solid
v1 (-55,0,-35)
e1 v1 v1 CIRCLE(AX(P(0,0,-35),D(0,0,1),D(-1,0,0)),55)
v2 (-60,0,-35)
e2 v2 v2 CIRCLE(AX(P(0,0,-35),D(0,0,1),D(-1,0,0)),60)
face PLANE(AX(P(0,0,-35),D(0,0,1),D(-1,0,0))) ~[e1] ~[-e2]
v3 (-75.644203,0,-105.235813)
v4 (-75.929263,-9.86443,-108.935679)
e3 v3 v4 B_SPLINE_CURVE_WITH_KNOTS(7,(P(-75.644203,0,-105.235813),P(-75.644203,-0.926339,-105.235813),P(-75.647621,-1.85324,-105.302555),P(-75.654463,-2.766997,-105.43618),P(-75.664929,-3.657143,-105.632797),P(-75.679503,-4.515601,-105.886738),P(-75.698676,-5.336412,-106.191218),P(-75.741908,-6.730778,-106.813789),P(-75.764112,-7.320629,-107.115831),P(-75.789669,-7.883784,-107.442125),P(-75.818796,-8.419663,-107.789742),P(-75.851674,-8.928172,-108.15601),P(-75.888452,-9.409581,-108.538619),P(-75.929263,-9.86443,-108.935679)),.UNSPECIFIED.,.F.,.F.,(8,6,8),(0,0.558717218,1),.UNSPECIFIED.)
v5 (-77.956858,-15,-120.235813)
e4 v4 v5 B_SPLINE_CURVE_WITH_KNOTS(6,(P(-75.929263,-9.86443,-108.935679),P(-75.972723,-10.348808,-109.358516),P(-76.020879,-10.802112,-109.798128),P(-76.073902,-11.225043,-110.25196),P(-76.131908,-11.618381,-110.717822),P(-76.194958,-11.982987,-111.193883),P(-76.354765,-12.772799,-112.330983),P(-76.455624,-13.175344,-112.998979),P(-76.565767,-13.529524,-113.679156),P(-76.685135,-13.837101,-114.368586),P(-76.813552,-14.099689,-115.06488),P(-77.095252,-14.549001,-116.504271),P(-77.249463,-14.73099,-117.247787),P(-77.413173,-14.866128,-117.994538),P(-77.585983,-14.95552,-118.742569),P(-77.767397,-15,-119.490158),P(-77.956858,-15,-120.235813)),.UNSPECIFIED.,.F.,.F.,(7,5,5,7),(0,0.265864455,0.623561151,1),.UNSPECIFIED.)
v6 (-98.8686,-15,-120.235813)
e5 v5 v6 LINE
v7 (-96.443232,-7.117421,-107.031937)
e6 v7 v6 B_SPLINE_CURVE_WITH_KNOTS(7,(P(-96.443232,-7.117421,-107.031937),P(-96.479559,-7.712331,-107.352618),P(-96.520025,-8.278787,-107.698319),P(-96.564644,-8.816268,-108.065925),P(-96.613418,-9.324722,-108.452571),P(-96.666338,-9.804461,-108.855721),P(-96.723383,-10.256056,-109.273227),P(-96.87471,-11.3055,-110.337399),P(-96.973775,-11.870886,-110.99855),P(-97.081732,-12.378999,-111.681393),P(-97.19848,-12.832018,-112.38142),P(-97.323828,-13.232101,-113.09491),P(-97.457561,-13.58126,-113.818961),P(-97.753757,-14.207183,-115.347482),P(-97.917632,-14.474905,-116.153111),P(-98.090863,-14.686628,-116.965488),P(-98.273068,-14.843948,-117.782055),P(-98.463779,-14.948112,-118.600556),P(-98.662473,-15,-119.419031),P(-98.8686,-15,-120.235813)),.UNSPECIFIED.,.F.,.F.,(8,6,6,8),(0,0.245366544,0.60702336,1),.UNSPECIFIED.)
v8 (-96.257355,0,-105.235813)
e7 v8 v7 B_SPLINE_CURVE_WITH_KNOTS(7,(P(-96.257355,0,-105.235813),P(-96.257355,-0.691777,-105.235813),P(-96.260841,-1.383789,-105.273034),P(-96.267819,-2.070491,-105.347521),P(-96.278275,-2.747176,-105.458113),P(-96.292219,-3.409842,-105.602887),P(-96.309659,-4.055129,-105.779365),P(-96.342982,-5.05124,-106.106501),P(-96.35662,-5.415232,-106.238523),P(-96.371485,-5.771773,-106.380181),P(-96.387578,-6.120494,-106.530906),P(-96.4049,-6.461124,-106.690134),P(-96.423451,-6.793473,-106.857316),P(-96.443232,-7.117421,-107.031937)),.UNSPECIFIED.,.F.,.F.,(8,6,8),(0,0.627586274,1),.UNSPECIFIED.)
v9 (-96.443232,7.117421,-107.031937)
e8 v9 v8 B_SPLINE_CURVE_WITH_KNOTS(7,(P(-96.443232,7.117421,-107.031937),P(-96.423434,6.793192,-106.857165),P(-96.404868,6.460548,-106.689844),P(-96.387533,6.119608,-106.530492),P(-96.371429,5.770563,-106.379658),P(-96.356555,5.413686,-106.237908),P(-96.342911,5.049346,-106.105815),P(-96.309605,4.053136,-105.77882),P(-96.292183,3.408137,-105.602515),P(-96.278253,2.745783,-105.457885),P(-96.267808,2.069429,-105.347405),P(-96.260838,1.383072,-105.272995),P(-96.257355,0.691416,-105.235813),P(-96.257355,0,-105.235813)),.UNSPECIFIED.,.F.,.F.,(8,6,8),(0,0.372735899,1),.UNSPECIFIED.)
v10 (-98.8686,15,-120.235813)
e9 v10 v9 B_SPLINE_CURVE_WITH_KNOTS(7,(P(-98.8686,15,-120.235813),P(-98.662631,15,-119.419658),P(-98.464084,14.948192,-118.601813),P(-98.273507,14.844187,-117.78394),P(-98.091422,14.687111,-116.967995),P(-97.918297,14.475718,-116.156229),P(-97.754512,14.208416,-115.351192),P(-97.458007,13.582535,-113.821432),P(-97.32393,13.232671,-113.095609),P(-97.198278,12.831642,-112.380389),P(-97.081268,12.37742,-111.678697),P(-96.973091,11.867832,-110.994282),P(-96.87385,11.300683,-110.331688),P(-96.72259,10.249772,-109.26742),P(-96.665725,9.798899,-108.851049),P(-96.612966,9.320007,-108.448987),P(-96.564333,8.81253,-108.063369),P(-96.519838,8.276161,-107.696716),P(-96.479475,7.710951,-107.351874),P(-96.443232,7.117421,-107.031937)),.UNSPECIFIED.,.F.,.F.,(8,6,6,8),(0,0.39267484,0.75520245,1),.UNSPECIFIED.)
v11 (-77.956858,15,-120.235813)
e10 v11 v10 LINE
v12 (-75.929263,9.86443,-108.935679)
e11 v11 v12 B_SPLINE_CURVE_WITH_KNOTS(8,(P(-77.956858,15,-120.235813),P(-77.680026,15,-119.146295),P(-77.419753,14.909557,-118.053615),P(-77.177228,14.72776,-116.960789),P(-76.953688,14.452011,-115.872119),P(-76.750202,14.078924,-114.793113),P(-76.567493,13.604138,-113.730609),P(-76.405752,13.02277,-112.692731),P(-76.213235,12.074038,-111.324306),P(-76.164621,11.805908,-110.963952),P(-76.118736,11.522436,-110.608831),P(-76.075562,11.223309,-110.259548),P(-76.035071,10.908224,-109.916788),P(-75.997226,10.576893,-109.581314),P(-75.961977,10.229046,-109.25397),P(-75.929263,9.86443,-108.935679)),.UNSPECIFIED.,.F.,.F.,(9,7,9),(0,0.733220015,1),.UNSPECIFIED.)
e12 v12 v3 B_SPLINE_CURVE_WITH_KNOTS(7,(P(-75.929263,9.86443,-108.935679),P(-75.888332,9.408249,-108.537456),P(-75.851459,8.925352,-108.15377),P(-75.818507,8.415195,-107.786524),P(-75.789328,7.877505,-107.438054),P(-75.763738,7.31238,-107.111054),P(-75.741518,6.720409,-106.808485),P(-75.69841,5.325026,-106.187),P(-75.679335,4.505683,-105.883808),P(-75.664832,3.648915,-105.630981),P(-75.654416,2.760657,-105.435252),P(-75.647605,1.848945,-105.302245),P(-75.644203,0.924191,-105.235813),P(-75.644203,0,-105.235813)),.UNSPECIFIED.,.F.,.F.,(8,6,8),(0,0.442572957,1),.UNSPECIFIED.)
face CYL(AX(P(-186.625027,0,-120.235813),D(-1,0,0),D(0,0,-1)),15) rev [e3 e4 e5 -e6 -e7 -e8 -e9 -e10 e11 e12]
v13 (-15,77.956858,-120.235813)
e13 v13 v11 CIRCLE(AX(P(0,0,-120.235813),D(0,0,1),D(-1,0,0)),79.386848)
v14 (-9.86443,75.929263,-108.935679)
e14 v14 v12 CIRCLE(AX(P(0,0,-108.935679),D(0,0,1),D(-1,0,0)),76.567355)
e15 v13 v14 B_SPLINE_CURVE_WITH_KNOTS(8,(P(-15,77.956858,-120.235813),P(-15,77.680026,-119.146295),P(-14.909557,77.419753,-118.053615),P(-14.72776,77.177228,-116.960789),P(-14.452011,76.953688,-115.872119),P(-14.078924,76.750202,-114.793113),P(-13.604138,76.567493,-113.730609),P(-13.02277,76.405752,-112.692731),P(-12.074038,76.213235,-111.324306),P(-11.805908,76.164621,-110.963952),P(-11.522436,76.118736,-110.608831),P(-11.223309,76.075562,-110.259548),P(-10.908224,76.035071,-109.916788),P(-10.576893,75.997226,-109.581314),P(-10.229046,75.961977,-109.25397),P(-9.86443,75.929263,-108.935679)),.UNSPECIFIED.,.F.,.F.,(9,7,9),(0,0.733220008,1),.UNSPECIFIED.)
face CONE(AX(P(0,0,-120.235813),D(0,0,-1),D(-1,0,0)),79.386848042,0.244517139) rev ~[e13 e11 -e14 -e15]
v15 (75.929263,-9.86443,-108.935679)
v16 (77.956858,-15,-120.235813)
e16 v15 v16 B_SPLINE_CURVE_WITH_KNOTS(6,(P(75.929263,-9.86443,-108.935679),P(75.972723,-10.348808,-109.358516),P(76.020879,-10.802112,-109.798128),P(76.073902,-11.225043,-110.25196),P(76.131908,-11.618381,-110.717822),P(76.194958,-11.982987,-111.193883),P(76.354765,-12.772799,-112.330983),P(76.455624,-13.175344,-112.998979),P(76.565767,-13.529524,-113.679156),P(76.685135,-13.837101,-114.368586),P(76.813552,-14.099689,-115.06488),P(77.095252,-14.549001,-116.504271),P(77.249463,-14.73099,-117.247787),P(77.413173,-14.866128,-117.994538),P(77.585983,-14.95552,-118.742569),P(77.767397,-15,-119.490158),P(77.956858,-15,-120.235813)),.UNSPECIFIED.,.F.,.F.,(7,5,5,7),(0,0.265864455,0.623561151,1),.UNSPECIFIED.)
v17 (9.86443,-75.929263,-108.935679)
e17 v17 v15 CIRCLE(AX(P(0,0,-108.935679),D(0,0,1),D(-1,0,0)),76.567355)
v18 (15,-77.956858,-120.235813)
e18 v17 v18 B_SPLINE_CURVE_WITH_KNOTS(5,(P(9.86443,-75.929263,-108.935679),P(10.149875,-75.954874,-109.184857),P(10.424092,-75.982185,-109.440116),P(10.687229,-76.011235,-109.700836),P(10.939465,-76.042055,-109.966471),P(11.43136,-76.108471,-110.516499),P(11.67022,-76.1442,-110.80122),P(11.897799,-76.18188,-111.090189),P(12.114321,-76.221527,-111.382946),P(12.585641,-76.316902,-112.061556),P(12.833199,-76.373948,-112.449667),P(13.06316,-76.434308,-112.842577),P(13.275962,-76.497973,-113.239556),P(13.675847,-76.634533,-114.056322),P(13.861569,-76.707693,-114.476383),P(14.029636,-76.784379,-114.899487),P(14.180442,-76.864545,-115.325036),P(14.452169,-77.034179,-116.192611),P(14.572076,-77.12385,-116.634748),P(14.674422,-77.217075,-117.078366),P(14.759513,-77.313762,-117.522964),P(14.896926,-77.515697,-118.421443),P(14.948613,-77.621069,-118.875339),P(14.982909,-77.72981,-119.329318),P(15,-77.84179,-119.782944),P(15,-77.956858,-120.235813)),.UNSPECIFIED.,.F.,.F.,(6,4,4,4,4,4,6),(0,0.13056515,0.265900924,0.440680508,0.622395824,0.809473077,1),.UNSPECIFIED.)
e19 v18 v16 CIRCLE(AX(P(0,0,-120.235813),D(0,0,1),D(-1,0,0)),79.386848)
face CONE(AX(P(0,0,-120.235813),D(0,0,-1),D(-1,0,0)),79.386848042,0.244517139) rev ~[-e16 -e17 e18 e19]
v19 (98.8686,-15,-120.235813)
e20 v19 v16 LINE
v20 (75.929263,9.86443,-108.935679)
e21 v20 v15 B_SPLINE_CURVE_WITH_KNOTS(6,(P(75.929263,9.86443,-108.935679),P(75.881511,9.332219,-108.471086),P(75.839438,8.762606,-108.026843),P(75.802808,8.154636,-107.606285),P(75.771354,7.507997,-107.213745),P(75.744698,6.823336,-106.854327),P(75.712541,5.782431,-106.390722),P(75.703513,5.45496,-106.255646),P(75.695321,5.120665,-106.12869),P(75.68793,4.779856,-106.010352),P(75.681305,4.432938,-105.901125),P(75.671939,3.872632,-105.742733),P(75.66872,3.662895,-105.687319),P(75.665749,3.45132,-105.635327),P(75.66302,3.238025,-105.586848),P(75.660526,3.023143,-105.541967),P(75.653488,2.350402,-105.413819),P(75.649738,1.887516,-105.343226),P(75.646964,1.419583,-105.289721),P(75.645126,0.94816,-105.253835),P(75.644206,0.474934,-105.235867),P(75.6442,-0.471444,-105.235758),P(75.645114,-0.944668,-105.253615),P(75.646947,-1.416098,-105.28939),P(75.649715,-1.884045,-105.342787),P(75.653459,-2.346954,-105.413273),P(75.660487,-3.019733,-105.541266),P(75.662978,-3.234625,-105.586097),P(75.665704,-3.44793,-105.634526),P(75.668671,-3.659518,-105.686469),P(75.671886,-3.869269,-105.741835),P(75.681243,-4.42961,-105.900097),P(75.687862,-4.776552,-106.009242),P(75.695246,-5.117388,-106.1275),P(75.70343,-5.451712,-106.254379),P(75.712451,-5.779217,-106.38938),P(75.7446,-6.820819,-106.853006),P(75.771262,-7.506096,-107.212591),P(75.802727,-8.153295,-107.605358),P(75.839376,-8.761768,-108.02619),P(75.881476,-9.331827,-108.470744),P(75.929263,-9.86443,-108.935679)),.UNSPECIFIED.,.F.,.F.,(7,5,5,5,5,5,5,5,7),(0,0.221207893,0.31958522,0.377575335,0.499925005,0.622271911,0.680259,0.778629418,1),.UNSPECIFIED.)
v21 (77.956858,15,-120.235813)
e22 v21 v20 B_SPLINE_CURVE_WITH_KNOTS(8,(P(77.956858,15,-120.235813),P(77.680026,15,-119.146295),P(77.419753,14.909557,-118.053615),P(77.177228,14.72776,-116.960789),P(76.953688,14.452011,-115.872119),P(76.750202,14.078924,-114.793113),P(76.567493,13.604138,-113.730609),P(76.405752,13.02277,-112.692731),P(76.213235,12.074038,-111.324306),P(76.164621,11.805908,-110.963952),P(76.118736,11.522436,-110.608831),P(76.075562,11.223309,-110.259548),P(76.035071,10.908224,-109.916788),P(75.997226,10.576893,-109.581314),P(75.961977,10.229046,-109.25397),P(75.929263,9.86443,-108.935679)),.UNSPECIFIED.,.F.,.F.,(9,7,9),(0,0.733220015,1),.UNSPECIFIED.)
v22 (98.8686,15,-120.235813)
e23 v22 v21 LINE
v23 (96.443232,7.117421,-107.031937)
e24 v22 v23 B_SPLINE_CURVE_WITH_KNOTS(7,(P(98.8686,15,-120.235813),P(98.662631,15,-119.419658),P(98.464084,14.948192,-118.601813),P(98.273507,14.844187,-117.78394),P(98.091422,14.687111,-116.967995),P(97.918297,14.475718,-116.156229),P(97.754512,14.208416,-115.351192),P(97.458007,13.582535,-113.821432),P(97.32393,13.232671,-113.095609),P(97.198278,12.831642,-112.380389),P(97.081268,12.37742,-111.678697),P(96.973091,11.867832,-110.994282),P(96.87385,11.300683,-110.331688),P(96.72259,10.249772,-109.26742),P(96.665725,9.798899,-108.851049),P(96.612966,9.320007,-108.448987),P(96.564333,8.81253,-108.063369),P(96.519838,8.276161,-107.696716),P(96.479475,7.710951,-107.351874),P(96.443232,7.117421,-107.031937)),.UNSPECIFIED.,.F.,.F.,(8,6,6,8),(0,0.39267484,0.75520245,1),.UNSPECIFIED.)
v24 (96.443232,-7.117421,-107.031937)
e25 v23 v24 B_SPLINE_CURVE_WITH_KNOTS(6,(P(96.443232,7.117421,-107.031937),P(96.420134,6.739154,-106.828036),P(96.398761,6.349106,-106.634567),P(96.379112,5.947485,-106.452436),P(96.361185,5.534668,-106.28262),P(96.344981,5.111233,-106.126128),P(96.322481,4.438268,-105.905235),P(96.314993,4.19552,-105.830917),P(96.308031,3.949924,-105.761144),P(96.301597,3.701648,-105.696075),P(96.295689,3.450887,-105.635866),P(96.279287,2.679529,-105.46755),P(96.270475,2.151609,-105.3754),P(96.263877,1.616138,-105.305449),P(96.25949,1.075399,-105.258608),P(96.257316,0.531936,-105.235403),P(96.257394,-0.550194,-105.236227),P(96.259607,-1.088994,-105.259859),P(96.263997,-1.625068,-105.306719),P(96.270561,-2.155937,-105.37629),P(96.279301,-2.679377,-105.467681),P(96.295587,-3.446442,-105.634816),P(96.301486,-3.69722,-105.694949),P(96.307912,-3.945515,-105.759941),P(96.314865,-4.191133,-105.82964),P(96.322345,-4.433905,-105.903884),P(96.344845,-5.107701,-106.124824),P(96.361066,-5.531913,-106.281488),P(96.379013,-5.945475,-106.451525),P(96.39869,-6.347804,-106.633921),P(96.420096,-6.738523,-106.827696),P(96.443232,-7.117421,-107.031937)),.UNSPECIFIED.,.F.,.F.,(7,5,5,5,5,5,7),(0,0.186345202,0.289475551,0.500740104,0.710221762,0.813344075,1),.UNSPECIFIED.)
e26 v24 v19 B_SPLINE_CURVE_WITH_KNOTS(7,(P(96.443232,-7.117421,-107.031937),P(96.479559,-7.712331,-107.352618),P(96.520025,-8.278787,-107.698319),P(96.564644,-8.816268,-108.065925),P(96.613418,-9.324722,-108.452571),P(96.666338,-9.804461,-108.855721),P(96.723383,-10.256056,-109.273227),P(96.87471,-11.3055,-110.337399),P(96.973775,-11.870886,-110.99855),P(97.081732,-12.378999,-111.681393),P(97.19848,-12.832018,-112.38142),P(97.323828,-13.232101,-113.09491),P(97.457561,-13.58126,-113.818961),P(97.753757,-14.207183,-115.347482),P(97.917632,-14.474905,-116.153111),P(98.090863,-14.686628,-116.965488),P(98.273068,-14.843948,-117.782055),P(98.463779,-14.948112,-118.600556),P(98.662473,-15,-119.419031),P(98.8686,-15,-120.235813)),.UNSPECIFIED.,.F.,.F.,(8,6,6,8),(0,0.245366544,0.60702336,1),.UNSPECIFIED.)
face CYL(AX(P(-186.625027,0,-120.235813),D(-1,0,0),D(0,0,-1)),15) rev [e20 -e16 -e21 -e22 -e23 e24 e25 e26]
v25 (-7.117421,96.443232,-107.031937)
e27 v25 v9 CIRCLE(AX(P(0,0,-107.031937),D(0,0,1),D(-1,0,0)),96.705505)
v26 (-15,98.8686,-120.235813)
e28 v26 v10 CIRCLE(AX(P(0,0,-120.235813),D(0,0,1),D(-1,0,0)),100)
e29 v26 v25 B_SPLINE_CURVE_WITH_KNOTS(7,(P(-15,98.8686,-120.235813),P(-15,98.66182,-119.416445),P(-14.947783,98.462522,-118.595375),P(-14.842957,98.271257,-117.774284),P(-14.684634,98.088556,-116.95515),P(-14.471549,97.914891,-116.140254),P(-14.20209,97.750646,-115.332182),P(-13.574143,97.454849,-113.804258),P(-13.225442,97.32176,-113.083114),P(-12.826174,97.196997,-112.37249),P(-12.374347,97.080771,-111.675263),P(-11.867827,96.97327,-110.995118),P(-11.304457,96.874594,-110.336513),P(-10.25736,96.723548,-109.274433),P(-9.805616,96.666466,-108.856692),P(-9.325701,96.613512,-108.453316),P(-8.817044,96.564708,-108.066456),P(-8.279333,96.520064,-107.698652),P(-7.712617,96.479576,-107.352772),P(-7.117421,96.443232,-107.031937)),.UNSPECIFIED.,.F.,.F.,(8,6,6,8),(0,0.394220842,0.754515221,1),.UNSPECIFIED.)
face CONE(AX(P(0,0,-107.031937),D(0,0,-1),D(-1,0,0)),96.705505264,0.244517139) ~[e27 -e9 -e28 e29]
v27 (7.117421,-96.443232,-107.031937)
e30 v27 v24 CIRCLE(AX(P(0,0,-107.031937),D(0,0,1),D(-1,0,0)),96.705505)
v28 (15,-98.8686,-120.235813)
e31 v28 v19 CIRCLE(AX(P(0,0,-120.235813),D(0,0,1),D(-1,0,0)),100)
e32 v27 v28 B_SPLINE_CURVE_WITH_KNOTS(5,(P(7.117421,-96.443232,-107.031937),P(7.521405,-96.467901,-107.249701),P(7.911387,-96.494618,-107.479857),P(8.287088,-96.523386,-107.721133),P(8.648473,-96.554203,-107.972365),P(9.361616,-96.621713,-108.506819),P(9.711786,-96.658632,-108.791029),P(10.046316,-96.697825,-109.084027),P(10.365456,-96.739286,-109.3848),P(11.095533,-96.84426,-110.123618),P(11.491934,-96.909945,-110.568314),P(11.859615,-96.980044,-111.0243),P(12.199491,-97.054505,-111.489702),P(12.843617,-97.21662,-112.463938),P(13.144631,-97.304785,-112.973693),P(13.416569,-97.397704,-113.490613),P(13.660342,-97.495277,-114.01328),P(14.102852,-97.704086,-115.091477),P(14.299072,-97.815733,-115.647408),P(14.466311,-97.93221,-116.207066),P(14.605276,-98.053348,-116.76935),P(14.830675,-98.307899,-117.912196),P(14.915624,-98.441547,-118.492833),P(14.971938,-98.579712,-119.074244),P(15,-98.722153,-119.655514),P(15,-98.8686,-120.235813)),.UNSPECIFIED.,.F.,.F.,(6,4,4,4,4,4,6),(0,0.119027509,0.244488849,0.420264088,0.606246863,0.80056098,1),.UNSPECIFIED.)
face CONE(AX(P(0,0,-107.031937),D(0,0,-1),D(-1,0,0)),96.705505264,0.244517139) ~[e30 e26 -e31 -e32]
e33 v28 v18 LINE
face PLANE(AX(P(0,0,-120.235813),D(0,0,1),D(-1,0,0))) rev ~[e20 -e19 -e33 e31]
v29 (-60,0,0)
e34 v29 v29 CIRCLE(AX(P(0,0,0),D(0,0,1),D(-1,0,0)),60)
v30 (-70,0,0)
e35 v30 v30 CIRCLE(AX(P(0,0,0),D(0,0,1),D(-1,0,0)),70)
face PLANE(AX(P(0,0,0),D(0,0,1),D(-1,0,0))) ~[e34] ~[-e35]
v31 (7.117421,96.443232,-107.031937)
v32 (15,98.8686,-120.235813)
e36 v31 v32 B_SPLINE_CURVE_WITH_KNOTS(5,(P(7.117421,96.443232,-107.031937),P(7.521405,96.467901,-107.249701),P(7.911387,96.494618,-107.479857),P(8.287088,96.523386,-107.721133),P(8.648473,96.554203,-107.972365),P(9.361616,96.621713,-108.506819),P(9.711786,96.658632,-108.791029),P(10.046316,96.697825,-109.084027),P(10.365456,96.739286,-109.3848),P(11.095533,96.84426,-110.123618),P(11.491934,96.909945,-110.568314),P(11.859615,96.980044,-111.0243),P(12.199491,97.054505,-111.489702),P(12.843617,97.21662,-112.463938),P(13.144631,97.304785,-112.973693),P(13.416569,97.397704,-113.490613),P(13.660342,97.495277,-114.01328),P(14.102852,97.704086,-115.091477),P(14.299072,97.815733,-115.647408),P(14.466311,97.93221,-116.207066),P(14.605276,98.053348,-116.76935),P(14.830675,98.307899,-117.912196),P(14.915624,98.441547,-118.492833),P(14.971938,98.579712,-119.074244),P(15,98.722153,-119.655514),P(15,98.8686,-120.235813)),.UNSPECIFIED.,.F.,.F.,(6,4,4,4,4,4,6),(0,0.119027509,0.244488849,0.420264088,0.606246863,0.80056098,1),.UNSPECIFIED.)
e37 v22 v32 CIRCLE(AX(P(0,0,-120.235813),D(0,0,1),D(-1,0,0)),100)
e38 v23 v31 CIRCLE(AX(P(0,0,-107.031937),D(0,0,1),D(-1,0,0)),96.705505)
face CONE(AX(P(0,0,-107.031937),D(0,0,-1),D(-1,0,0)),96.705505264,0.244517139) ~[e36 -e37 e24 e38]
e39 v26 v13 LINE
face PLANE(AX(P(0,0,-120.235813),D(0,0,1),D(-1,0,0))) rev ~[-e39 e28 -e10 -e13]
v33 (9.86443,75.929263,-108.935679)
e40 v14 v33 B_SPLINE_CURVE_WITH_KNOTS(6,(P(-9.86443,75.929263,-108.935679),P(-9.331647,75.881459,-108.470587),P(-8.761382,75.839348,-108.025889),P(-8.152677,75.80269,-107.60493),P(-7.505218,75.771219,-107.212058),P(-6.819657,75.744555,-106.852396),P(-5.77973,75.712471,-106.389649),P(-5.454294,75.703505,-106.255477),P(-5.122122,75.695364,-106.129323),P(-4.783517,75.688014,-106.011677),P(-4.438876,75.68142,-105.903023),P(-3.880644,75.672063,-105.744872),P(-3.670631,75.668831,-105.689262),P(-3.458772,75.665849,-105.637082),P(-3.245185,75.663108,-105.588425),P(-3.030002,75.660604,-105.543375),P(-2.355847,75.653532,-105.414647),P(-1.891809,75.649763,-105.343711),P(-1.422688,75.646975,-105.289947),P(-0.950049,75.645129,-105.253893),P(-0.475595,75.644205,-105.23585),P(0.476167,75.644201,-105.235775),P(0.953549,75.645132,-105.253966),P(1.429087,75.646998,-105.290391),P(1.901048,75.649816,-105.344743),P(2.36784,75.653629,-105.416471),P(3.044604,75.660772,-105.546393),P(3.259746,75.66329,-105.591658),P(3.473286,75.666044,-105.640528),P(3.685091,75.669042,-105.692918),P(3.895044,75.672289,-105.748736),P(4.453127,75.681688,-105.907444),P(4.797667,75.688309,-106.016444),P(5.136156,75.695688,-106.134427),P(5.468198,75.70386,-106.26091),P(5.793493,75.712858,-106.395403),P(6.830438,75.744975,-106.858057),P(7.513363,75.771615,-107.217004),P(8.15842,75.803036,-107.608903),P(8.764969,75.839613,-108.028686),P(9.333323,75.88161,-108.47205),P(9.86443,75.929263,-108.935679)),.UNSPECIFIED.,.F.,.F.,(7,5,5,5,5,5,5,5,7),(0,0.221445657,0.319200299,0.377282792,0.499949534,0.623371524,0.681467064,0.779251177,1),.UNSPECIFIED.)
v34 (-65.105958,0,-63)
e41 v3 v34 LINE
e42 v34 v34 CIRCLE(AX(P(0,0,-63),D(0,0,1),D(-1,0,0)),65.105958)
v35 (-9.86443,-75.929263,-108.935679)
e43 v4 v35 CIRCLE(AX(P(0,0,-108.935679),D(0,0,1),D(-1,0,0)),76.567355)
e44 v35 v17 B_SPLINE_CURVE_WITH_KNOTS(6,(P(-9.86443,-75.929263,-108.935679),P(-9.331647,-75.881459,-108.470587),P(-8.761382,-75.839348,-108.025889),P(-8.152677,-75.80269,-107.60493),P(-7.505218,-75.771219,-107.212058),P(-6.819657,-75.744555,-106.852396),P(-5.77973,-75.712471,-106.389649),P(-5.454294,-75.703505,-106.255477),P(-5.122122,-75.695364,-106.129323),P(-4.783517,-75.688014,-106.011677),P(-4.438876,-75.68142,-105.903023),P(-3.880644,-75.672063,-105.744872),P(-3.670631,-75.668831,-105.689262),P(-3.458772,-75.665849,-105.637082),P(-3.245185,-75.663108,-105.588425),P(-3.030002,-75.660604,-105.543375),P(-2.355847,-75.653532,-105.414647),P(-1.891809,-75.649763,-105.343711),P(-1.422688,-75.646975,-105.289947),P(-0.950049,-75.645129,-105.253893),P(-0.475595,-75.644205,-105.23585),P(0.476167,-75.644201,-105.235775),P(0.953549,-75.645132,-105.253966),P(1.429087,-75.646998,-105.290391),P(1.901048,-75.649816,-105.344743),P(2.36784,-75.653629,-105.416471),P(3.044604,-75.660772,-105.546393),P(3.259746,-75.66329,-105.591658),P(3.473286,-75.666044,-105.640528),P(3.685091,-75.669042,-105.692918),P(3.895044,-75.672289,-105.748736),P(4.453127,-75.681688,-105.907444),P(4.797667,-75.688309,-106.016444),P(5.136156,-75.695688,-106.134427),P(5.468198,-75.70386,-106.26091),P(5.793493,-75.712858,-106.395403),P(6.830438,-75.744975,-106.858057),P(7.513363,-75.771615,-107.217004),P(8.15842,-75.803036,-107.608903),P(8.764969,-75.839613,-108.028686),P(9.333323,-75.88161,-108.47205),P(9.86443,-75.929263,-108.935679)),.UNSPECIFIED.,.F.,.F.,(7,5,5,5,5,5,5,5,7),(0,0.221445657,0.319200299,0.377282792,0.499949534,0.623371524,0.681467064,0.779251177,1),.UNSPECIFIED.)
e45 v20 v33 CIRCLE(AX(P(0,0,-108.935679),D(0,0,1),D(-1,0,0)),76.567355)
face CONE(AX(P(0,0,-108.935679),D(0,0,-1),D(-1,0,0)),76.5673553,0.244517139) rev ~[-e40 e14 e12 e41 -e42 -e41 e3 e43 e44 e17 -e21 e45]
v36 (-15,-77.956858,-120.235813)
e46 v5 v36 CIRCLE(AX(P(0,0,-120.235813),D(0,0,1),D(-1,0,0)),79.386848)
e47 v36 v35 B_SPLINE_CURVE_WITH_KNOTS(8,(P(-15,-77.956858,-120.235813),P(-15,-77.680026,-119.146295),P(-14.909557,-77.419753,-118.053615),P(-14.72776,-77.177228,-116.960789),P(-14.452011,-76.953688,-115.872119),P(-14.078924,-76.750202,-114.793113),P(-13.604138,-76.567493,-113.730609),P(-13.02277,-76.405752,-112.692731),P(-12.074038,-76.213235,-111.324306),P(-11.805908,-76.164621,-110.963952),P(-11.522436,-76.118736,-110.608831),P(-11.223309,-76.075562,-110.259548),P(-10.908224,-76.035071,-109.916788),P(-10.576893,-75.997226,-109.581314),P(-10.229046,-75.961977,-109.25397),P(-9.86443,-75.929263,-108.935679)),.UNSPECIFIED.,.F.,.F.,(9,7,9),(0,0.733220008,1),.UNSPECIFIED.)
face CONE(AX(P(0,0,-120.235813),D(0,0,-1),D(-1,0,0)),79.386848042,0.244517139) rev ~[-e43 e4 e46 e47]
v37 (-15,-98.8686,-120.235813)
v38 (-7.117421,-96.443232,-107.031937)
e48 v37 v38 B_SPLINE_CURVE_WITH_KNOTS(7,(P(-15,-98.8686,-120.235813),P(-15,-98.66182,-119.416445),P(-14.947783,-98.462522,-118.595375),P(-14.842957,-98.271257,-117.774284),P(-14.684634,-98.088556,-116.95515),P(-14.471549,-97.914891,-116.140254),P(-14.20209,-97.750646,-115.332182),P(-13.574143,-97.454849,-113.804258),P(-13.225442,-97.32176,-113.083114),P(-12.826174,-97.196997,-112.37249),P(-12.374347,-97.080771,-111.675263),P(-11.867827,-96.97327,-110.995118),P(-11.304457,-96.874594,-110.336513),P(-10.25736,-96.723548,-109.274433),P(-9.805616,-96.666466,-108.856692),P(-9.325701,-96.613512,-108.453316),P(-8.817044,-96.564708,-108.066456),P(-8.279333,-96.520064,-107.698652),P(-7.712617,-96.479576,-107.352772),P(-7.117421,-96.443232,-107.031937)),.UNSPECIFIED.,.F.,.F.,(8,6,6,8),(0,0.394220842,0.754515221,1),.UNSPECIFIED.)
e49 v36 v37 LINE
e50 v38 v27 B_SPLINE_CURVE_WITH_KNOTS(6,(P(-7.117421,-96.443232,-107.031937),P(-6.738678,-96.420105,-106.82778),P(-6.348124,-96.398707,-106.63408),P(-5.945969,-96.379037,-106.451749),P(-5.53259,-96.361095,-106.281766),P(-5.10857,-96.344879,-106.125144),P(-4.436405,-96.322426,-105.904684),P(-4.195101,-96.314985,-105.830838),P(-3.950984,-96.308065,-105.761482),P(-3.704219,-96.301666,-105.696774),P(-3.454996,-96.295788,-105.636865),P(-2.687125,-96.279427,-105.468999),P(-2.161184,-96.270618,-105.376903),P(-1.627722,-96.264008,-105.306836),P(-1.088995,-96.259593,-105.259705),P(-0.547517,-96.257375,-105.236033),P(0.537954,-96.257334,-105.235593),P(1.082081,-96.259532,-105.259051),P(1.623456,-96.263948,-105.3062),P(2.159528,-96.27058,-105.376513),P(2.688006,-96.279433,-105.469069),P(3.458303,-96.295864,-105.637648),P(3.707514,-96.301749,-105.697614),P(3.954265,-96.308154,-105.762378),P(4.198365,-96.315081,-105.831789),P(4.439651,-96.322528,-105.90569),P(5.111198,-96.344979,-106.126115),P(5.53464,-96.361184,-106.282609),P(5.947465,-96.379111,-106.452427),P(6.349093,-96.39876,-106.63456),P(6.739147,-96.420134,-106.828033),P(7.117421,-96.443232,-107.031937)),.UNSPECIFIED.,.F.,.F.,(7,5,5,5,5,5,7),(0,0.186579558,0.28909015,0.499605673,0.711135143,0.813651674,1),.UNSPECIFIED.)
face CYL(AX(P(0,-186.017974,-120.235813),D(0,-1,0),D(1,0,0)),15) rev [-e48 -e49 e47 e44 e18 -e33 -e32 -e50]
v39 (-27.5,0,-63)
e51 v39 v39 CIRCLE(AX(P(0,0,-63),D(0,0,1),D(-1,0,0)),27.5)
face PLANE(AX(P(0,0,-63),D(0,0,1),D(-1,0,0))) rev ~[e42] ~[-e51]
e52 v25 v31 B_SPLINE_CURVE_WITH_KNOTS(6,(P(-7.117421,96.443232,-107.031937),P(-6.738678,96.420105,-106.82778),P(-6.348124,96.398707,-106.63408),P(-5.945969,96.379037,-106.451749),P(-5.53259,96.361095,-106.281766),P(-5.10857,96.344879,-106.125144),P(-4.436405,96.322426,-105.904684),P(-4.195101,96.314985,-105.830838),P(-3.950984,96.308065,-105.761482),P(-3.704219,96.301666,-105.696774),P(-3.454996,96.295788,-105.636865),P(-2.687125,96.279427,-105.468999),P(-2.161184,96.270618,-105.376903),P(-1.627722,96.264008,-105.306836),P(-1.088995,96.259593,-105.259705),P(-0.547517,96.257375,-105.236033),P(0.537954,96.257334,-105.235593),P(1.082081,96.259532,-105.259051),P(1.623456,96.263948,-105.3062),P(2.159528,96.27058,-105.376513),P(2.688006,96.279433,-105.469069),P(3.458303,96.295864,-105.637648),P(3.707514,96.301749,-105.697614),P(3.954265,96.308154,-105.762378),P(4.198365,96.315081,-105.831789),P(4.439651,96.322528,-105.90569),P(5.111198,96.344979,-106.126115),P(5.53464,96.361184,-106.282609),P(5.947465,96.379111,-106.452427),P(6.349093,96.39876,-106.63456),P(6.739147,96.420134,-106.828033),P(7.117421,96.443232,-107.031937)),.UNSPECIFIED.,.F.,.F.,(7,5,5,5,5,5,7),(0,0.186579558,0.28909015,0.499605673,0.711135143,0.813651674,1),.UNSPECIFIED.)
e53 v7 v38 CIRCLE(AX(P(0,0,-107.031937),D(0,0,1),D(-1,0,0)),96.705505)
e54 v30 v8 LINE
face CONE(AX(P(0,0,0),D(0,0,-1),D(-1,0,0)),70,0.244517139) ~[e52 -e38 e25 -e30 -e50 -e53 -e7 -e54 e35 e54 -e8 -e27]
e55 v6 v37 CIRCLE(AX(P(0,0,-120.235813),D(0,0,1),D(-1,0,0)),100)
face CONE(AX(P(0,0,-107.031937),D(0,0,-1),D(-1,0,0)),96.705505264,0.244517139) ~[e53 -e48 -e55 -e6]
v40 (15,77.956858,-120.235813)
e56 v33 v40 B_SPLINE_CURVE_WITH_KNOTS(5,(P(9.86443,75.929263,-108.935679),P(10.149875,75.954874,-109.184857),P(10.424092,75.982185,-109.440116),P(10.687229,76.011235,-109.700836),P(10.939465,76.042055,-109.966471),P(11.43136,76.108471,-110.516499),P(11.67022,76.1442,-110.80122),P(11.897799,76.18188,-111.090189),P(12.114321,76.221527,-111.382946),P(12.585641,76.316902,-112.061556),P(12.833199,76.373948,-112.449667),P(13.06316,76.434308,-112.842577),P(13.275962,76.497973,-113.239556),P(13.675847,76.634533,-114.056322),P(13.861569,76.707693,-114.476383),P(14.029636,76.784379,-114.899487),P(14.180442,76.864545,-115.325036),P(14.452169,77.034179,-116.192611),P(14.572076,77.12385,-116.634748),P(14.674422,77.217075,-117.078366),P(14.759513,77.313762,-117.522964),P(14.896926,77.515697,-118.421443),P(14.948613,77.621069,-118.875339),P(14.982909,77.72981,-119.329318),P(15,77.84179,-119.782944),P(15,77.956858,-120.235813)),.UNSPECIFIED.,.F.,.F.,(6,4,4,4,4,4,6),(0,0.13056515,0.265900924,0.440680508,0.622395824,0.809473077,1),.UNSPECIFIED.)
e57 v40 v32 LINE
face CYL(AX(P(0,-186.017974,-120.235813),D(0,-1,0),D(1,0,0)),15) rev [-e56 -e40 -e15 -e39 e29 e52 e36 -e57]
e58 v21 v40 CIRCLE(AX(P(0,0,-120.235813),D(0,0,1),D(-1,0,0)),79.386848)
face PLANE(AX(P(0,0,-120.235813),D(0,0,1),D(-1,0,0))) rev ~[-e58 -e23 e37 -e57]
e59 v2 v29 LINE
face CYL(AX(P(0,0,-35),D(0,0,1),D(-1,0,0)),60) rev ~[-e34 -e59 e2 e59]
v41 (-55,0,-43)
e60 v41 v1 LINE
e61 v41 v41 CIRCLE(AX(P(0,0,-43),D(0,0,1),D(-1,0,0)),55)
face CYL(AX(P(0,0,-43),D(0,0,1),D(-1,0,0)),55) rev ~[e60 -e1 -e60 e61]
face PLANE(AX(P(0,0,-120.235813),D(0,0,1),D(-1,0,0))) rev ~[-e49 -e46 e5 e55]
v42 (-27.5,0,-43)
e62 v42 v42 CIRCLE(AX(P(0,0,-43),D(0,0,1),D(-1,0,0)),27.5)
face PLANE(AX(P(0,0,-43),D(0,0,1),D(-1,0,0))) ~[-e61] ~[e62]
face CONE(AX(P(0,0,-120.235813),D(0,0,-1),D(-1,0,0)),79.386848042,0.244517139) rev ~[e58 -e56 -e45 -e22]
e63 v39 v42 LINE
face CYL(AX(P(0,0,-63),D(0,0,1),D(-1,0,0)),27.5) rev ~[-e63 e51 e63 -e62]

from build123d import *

# Parameters (mm, degrees)
CUT_EXTRUDE3_DEPTH      = 186.625026901
CUT_EXTRUDE3_DEPTH_BACK = 186.625026901
SKETCH5_R               = 15
CUT_EXTRUDE4_DEPTH      = 186.017973926
CUT_EXTRUDE4_DEPTH_BACK = 186.017973926
SKETCH7_R               = 15


with BuildPart() as part:
    # Sketch2 → Revolve2 (revolve)
    with BuildSketch(Plane(origin=(0, 0, 0), x_dir=(1, 0, 0), z_dir=(0, 1, 0)), mode=Mode.PRIVATE) as revolve2_sk:
        Polygon((76.5673553, 108.935679163), (65.10595835, 63), (27.5, 63), (27.5, 43), (55, 43), (55, 35), (60, 35), (60, 0), (70, 0), (96.705505264, 107.031937471), (100, 120.235812519), (79.386848042, 120.235812519), align=None)
    revolve(revolve2_sk.sketch.rotate(Axis((0, 0, -120), (0, 0, 1)), 180), axis=Axis((0, 0, -120), (0, 0, 1)))

    # Sketch5 → Cut-Extrude3 (cut, two sides: drawn at the far end of the back side and taken through both)
    with BuildSketch(Plane(origin=(0, 0, 0), x_dir=(0, 0, -1), z_dir=(1, 0, 0)).offset(-CUT_EXTRUDE3_DEPTH_BACK)):
        with Locations((120.235812519, 0)):
            Circle(SKETCH5_R)
    extrude(amount=CUT_EXTRUDE3_DEPTH + CUT_EXTRUDE3_DEPTH_BACK, mode=Mode.SUBTRACT)

    # Sketch7 → Cut-Extrude4 (cut, two sides: drawn at the far end of the back side and taken through both)
    with BuildSketch(Plane(origin=(0, 0, 0), x_dir=(1, 0, 0), z_dir=(0, 1, 0)).offset(-CUT_EXTRUDE4_DEPTH_BACK)):
        with Locations((0, 120.235812519)):
            Circle(SKETCH7_R)
    extrude(amount=CUT_EXTRUDE4_DEPTH + CUT_EXTRUDE4_DEPTH_BACK, mode=Mode.SUBTRACT)


solid = part.part
